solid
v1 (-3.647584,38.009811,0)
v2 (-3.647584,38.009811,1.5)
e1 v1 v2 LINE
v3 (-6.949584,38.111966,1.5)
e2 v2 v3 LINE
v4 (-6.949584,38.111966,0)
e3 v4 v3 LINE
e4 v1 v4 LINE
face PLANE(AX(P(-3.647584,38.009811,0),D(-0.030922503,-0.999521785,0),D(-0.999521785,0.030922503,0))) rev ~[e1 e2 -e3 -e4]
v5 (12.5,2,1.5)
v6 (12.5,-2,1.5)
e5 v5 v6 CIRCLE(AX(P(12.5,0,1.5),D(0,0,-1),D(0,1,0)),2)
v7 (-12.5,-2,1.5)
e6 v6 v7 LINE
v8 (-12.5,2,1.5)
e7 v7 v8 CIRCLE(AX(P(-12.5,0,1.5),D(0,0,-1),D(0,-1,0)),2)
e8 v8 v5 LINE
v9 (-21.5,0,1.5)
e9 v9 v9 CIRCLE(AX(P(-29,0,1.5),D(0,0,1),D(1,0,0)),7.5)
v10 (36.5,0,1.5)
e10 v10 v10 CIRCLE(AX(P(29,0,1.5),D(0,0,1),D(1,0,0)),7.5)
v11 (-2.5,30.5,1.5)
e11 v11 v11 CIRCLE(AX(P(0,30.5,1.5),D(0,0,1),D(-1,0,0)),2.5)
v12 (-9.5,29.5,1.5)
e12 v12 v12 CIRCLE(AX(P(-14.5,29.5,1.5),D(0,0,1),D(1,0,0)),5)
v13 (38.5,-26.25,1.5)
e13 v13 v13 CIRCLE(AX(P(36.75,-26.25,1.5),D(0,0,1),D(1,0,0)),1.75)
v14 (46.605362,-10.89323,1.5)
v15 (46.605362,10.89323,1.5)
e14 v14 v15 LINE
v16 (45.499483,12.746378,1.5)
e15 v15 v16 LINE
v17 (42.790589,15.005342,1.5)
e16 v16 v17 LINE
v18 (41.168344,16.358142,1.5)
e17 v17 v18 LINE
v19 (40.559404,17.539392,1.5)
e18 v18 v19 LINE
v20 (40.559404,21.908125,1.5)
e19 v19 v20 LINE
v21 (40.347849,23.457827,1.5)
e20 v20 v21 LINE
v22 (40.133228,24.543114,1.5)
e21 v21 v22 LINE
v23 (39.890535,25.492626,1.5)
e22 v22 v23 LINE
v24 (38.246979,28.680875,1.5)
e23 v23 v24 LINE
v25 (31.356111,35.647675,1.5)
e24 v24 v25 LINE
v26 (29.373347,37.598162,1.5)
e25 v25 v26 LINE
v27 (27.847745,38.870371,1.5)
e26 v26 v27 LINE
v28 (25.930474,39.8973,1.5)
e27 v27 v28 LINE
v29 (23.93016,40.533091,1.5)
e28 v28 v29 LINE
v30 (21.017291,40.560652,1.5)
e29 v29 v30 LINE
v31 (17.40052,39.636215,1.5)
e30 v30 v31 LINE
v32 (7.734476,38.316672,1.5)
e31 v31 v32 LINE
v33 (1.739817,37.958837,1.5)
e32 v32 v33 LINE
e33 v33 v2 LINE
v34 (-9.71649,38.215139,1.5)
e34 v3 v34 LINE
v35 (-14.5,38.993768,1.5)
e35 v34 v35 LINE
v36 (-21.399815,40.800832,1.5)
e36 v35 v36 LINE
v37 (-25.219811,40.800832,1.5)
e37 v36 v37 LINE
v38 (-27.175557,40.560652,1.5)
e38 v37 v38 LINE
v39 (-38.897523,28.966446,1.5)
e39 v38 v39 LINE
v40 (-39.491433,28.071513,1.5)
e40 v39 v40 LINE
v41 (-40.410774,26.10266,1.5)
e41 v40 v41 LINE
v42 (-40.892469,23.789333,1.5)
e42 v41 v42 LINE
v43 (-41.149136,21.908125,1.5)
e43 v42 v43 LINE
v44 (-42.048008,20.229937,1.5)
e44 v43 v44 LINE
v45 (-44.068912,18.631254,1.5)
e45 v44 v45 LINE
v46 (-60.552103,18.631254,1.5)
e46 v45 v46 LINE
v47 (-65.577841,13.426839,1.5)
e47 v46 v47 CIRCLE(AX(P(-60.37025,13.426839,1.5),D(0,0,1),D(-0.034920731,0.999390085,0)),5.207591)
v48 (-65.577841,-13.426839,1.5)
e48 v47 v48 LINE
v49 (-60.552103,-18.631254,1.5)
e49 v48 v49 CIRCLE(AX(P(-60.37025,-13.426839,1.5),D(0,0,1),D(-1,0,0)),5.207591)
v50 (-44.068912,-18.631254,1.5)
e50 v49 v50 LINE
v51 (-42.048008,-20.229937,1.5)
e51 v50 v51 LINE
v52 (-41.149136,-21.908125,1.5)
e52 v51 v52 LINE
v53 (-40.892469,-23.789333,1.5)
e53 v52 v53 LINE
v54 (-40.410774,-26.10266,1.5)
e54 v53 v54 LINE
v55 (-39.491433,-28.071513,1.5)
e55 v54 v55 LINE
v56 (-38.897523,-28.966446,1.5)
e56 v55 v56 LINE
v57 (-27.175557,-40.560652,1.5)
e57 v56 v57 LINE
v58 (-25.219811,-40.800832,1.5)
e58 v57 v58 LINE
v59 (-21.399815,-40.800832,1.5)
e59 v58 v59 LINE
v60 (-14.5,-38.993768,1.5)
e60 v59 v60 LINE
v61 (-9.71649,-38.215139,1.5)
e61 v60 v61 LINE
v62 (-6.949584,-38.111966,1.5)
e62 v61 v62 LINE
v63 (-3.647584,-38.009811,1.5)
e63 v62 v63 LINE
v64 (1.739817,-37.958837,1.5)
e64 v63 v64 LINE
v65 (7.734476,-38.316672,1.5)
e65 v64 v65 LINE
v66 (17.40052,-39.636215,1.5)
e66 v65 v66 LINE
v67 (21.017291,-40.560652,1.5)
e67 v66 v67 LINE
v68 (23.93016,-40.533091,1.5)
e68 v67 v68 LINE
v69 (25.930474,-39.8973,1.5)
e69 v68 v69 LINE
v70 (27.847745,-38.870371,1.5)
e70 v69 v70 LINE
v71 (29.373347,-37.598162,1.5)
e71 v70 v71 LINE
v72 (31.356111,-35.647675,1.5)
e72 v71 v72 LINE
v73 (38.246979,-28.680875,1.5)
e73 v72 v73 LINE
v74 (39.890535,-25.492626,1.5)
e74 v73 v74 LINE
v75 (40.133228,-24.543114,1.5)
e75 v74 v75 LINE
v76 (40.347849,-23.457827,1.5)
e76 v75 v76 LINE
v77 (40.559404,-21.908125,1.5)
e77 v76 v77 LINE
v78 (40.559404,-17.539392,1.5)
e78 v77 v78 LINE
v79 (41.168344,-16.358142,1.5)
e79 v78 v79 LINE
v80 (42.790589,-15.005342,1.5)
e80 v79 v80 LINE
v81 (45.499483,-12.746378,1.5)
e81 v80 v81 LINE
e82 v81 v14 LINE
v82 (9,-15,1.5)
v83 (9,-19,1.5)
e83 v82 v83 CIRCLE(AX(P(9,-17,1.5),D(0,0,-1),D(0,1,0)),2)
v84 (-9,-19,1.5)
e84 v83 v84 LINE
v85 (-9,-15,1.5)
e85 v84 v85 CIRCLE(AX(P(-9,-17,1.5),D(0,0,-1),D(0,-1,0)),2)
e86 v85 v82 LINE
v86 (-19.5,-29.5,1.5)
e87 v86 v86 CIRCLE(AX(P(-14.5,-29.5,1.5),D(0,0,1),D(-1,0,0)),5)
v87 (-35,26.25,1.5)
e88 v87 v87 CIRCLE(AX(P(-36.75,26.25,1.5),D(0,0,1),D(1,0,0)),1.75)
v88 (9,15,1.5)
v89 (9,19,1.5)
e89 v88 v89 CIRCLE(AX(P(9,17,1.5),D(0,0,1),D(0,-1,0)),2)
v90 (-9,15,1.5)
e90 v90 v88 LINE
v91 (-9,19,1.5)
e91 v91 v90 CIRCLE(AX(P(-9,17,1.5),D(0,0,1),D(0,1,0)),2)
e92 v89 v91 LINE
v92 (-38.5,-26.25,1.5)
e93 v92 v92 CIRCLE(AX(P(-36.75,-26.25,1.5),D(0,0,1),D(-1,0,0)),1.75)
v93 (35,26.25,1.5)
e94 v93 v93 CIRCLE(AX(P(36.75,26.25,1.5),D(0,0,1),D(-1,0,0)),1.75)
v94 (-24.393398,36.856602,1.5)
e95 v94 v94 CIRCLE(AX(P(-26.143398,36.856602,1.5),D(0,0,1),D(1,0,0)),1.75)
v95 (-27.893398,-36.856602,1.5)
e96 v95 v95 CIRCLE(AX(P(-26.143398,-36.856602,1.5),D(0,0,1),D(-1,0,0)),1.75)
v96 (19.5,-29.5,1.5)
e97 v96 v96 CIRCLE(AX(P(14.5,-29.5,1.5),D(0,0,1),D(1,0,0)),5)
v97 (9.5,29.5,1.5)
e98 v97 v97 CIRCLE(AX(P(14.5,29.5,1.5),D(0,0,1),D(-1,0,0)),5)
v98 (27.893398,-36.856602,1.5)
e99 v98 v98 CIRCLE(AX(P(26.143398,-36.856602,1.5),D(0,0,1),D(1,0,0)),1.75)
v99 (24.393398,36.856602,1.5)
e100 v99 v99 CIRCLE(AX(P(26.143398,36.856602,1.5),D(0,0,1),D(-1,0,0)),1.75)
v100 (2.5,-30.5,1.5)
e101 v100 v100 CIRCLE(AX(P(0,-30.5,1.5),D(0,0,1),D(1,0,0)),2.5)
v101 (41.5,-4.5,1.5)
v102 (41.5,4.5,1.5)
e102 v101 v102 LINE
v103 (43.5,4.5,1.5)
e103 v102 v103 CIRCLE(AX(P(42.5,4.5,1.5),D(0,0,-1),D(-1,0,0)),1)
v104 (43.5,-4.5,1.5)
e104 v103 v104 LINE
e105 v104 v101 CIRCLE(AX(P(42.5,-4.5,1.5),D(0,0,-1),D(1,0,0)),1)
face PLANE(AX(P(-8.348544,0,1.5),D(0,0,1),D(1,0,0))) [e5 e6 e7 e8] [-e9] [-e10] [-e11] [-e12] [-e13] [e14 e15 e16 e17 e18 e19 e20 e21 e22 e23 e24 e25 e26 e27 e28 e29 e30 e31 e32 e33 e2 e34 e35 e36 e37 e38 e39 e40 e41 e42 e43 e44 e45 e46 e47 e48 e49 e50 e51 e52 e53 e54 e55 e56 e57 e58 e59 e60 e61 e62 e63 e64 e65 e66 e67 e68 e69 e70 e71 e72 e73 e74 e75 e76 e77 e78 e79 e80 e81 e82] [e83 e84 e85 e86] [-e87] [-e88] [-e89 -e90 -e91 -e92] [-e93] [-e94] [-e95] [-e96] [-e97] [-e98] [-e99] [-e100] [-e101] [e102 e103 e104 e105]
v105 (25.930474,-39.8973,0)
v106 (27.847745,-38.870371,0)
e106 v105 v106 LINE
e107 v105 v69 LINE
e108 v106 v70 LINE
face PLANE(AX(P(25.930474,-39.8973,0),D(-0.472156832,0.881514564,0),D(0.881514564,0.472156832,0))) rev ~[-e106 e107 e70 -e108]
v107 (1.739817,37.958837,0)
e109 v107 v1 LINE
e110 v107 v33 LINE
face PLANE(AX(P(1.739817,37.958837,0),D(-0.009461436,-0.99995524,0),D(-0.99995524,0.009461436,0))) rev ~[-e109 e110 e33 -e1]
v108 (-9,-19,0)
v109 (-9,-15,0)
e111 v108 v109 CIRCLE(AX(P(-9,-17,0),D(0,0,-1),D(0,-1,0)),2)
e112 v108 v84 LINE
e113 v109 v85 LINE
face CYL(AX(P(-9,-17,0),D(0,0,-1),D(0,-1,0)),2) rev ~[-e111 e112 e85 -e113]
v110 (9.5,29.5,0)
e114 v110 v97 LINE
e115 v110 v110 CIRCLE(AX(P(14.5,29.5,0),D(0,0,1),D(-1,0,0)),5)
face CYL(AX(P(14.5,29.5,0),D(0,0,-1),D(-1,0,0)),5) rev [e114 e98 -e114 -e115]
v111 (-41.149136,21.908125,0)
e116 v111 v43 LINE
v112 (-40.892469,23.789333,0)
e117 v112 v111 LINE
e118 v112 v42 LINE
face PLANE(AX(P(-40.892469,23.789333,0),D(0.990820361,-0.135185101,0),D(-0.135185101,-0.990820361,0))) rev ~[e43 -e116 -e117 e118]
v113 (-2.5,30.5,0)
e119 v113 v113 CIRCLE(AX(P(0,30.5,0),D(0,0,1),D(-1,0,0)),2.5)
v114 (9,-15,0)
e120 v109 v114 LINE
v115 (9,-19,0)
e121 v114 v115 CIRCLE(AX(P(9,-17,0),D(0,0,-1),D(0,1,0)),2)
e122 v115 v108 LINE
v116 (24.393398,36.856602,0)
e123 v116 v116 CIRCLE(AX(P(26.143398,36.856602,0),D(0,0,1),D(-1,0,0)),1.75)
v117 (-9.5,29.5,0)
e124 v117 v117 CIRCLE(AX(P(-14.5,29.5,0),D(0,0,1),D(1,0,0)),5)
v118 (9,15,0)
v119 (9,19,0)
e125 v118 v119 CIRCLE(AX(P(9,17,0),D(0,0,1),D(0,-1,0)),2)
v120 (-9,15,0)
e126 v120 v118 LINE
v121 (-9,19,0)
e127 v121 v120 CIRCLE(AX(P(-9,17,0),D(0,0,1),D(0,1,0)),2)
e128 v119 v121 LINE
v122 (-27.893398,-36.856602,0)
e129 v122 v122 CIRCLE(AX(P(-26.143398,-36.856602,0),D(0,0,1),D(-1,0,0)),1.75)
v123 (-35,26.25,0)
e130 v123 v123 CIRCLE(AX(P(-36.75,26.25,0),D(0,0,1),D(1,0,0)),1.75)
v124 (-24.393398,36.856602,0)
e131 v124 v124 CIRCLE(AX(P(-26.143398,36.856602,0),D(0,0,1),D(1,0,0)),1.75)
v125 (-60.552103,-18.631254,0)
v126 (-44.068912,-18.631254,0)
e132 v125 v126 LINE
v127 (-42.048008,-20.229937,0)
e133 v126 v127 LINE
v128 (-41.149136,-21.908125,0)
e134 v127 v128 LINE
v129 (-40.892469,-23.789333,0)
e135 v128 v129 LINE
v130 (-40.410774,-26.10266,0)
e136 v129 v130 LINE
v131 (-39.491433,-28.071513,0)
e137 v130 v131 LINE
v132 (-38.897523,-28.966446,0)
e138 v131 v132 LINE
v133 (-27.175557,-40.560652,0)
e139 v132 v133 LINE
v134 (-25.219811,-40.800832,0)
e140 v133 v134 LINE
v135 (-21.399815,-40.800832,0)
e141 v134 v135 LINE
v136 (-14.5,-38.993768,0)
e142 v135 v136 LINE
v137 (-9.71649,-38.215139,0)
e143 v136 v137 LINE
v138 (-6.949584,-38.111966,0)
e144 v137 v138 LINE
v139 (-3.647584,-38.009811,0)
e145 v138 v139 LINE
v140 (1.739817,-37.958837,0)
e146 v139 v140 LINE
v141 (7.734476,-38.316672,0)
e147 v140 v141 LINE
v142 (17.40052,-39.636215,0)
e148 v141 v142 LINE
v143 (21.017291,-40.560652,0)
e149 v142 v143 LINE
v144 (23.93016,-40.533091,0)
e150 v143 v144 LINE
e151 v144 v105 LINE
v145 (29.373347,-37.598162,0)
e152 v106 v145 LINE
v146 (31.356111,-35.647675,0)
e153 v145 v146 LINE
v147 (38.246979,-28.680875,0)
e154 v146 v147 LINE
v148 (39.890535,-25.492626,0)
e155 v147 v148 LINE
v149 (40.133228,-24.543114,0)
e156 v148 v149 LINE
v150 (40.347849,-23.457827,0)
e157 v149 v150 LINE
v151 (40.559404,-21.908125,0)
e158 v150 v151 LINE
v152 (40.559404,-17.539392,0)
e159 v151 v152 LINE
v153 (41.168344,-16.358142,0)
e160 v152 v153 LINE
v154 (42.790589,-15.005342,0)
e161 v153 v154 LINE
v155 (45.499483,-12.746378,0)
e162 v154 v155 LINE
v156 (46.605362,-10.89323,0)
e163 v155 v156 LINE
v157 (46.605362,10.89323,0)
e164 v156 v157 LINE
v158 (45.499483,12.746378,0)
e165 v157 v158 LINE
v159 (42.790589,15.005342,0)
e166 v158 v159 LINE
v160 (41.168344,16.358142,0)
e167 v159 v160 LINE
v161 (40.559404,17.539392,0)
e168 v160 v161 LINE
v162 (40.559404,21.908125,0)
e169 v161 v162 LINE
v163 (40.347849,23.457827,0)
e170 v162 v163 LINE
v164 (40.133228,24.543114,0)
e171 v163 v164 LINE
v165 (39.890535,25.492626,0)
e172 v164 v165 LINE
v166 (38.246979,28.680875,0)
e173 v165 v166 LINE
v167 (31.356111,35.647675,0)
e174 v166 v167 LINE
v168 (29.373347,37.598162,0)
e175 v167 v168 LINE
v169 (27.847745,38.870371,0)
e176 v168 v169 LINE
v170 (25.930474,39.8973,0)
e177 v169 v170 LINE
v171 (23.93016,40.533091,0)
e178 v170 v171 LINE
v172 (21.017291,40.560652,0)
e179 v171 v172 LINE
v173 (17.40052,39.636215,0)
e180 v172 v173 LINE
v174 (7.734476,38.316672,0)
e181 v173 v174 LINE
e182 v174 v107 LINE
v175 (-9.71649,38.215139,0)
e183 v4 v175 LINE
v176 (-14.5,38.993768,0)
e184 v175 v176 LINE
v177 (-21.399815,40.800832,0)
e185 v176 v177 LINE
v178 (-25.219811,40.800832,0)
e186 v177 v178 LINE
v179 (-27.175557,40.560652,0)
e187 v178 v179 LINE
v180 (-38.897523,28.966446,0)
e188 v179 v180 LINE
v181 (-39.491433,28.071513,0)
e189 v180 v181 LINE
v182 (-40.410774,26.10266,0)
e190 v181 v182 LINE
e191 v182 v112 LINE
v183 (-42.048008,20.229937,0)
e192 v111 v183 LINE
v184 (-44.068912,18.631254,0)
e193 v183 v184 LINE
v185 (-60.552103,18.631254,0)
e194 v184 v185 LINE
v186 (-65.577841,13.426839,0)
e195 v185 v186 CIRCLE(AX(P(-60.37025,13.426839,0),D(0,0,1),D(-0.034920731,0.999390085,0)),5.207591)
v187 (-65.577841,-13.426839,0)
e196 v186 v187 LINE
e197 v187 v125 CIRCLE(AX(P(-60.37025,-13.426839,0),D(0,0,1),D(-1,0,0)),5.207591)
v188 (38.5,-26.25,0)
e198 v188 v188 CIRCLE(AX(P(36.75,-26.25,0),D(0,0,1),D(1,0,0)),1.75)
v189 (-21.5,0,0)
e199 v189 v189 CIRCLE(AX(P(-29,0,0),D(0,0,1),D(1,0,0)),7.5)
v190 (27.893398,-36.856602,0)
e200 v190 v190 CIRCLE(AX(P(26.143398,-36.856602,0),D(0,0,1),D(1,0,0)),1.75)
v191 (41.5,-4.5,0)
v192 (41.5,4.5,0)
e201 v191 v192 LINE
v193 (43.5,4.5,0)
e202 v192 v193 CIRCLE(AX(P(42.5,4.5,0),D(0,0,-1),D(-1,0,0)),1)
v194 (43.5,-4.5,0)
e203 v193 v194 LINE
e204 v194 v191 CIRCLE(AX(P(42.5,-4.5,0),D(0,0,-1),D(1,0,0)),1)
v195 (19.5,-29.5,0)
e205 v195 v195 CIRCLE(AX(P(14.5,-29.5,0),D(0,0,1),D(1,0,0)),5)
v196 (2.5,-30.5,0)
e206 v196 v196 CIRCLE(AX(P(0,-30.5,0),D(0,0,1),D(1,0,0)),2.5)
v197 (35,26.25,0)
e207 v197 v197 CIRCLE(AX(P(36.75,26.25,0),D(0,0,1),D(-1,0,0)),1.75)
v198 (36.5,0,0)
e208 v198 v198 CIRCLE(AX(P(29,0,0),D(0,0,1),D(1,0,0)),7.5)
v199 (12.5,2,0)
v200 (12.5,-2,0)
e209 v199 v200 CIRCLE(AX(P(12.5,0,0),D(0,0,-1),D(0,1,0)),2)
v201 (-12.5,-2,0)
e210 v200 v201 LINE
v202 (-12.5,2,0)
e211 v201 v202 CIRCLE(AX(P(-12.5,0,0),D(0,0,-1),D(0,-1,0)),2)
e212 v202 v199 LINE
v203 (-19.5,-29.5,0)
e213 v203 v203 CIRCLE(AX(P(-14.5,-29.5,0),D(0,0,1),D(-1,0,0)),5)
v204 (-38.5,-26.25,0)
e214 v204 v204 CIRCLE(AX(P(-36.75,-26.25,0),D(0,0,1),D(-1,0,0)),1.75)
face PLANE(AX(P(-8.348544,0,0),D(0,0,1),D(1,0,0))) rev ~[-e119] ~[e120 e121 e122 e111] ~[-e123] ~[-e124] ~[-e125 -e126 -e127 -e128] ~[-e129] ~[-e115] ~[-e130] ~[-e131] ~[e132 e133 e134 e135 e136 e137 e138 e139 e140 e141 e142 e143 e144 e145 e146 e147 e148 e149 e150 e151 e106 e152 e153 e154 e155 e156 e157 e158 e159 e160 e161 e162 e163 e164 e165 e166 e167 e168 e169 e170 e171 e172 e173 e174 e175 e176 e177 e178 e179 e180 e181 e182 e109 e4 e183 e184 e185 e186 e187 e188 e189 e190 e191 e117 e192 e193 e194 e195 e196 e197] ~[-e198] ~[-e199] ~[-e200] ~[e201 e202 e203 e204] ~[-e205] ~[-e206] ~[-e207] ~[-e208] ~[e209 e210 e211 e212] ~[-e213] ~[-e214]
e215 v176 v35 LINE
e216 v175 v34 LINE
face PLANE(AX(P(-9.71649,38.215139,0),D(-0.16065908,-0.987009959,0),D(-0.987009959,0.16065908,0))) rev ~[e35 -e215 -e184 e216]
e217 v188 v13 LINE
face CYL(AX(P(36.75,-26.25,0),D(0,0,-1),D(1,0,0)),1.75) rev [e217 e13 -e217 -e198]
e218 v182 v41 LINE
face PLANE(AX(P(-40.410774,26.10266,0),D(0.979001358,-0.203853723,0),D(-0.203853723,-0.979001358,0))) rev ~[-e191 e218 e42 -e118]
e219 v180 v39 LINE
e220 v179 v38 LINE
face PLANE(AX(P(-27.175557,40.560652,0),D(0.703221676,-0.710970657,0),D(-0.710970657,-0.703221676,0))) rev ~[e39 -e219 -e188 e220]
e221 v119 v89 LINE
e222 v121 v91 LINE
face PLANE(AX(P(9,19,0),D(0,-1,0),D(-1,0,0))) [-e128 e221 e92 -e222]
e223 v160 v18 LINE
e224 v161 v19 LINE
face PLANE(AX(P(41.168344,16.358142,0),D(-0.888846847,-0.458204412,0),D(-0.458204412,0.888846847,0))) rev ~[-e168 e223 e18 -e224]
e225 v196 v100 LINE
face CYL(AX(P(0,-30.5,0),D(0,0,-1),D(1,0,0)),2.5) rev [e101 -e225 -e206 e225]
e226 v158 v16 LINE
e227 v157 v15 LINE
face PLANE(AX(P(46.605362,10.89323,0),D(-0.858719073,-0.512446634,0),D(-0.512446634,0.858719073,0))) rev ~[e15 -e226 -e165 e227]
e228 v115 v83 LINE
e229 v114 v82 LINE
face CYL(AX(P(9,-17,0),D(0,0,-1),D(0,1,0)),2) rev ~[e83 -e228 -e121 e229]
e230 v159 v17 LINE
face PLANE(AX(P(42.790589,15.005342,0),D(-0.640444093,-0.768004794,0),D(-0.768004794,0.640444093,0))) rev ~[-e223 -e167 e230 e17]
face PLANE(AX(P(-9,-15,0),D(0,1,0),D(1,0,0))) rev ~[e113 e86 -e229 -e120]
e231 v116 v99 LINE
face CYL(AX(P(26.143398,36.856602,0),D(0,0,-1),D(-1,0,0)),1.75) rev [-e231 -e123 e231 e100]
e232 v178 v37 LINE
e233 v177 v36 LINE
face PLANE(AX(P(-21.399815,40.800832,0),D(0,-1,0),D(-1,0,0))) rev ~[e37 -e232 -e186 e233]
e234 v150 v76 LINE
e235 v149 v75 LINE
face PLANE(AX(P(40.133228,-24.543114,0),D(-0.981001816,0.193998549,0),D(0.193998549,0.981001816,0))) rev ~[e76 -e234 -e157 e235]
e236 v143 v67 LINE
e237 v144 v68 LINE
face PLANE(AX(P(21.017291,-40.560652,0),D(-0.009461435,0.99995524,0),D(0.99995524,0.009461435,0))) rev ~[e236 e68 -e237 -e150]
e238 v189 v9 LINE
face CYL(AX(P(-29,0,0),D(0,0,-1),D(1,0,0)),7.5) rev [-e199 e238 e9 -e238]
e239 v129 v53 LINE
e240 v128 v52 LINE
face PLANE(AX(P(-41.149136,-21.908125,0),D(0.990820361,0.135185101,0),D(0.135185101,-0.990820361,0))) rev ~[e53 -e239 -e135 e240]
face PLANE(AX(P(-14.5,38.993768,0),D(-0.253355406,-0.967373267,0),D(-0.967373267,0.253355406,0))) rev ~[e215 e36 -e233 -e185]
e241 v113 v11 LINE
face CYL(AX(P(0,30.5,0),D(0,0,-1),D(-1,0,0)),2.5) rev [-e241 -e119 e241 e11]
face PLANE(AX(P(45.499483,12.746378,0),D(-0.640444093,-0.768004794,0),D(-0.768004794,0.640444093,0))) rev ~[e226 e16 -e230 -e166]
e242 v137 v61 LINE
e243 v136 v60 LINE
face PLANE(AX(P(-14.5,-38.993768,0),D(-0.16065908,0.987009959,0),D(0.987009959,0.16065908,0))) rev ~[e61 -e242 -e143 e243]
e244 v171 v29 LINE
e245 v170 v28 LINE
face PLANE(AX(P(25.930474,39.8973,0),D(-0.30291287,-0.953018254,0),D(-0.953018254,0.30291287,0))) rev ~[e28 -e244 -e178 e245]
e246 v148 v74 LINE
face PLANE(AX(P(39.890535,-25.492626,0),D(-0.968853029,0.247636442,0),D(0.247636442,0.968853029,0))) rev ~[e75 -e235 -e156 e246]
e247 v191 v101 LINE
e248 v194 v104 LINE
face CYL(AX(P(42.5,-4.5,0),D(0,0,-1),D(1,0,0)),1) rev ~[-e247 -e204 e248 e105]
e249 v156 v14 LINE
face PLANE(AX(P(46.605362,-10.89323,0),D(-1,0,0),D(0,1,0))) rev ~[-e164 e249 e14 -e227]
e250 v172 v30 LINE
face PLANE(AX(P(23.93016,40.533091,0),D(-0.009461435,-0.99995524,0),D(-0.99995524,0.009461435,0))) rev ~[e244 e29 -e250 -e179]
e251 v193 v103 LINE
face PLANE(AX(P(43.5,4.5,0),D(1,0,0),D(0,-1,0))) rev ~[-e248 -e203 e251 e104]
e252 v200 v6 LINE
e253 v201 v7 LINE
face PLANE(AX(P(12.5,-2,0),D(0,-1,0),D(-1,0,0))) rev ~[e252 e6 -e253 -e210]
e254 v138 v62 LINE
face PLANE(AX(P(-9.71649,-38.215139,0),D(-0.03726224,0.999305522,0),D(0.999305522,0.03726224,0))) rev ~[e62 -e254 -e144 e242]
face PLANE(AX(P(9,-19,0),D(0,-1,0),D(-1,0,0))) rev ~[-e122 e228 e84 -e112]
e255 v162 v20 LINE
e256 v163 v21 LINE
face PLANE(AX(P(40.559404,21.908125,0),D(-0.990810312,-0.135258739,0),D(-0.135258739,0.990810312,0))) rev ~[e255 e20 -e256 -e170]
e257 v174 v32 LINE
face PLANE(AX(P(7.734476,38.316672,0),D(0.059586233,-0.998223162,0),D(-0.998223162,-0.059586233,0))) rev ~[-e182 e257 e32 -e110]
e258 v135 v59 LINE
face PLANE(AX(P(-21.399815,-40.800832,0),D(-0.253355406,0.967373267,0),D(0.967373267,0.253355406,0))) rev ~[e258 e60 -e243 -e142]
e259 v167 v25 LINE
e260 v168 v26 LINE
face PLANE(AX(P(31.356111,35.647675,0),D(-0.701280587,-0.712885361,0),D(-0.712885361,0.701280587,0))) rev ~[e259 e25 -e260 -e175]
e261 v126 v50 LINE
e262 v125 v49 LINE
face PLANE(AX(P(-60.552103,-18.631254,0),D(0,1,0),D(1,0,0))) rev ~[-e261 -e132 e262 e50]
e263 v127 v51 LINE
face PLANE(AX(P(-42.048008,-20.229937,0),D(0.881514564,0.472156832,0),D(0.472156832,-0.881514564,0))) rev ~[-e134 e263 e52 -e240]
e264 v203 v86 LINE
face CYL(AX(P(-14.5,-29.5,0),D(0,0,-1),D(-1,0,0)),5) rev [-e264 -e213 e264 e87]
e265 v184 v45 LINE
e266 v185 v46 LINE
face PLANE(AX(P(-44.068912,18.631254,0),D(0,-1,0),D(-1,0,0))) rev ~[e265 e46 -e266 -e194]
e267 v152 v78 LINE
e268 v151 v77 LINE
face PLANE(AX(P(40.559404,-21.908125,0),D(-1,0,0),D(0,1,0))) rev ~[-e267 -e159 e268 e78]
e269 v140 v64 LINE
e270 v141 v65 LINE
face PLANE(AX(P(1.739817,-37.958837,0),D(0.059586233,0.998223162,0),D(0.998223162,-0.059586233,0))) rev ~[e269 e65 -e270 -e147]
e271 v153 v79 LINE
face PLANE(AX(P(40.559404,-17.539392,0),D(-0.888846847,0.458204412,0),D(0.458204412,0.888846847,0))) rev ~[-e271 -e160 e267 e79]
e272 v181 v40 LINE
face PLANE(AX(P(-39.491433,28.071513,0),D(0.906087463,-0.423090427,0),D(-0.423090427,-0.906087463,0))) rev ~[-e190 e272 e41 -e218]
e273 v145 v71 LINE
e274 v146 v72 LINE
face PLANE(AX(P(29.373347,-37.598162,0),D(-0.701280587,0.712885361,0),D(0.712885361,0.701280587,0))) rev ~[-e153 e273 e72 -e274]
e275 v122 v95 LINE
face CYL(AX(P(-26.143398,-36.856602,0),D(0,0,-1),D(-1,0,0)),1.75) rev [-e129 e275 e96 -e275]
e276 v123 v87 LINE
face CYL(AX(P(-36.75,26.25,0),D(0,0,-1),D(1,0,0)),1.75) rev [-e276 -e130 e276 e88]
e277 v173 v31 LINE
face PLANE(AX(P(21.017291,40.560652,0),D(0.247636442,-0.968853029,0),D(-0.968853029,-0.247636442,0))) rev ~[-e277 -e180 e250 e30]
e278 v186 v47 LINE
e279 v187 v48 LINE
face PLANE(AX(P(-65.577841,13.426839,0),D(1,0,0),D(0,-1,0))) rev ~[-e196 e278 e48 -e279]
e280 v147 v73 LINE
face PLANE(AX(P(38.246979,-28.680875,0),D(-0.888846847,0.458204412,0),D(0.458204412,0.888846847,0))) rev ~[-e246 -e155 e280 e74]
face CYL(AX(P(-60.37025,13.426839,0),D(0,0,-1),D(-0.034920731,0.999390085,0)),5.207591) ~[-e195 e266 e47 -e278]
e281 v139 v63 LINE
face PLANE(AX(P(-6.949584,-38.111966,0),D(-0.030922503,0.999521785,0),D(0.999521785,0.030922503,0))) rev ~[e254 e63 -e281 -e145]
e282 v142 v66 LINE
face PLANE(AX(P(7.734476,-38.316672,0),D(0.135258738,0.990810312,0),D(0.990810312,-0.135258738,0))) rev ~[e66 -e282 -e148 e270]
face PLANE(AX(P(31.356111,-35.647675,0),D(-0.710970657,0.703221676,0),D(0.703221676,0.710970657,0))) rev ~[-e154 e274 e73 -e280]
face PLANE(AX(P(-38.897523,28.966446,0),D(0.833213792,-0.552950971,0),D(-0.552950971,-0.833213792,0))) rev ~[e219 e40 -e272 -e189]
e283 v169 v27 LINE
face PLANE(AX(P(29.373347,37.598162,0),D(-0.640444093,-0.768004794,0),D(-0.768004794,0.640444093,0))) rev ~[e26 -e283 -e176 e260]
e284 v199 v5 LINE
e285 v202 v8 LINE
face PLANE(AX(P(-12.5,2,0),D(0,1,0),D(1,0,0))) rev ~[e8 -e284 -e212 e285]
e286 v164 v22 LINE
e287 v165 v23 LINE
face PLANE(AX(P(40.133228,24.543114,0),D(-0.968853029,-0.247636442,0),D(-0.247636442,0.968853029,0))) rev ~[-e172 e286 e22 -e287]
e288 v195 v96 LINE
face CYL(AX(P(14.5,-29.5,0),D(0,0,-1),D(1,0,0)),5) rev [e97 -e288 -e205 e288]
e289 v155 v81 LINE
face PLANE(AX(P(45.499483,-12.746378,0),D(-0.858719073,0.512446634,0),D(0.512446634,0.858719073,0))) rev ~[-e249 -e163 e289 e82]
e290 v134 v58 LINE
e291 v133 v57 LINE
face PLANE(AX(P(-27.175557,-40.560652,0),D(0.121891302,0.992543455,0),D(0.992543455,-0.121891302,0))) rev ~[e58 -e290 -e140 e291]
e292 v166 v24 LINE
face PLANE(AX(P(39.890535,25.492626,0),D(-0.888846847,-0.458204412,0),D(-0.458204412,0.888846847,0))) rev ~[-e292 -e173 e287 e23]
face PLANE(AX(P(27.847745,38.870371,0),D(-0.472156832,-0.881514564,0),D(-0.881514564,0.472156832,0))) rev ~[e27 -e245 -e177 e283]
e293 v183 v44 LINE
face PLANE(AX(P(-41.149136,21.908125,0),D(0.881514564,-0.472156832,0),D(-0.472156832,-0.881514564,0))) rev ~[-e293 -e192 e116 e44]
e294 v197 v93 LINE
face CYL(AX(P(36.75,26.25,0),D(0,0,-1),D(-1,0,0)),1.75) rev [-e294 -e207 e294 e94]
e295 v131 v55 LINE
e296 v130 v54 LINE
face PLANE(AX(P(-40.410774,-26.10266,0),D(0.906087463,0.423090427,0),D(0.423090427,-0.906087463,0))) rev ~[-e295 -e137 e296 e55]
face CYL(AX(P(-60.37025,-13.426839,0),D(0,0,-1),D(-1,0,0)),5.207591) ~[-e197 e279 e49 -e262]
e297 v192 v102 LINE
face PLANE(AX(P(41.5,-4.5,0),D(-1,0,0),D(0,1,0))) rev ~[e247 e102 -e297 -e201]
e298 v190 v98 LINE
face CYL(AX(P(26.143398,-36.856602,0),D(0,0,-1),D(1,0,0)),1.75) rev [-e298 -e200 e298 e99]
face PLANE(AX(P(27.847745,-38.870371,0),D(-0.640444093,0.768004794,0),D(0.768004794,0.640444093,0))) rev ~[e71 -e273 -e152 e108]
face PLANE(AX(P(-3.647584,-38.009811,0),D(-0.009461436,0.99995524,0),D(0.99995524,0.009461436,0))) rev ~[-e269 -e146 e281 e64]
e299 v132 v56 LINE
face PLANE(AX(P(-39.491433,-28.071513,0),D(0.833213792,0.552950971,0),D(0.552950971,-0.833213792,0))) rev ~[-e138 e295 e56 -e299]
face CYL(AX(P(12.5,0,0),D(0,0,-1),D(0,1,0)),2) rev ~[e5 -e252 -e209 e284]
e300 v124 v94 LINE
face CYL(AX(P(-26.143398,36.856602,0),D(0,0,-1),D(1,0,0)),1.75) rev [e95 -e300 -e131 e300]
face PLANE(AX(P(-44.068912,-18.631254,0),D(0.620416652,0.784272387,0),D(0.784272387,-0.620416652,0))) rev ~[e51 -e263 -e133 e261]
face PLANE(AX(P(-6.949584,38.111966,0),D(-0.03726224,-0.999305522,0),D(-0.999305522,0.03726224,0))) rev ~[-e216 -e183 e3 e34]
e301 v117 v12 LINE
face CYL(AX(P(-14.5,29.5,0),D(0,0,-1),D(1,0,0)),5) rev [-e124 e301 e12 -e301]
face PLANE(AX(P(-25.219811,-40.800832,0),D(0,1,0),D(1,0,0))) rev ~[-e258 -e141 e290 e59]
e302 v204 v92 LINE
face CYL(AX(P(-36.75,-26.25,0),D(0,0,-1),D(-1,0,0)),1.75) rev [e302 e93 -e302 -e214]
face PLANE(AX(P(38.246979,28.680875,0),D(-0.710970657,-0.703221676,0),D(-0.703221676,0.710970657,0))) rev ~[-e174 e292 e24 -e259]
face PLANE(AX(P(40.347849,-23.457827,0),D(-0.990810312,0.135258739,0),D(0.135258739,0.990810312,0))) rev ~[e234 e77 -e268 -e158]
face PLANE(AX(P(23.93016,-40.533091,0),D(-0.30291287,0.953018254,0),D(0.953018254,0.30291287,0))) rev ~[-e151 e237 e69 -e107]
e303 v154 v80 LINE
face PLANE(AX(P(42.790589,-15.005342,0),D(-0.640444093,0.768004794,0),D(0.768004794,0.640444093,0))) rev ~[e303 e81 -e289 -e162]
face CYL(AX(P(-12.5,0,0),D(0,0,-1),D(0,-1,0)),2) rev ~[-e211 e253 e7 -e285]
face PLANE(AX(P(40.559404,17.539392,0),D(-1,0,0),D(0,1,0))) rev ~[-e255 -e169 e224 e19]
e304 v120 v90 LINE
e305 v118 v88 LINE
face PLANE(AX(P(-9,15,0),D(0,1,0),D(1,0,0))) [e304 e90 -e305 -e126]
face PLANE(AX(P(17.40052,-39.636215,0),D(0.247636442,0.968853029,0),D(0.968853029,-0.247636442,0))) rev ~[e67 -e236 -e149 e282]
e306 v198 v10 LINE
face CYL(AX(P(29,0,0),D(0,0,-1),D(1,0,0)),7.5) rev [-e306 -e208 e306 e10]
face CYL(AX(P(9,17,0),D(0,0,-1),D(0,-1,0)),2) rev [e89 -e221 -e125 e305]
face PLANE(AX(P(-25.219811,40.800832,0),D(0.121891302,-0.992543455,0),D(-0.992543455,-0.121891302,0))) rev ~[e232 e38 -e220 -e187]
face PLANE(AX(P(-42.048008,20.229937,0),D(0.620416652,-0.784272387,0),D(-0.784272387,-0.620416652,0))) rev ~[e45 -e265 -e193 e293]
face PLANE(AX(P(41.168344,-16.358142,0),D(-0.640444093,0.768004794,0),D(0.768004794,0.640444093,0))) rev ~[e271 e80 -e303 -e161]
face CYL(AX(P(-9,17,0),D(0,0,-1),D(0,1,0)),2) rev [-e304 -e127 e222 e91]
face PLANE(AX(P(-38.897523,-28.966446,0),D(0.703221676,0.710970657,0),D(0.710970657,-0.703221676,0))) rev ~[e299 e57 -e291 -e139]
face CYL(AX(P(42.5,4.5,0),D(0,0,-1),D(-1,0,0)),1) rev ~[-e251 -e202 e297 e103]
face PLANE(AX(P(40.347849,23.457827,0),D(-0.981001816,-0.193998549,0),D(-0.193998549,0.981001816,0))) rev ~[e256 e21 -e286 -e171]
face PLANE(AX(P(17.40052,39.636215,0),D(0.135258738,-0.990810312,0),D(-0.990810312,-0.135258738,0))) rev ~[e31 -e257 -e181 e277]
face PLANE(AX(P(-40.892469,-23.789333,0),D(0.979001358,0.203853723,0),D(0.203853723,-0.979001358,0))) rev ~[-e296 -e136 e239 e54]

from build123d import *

# Parameters (mm, degrees)
DOWN_BOARD_R    = 7.5
DOWN_BOARD_R_2  = 5
DOWN_BOARD_R_3  = 1.75
DOWN_BOARD_R_4  = 2.5
EXTRUDE_1_DEPTH = 1.5


with BuildPart() as part:
    # down_board → 凸台-拉伸1 (new body)
    with BuildSketch(Plane.XY):
        with BuildLine():
            Line((-65.577840697, 13.426839479), (-65.577840697, -13.426839479))
            ThreePointArc((-65.577840697, -13.426839479), (-64.116315672, -17.044296176), (-60.552102836, -18.631254027))
            Line((-60.552102836, -18.631254027), (-44.068912387, -18.631254027))
            Line((-44.068912387, -18.631254027), (-42.048007576, -20.229937109))
            Line((-42.048007576, -20.229937109), (-41.149136438, -21.908125258))
            Line((-41.149136438, -21.908125258), (-40.892469041, -23.789333182))
            Line((-40.892469041, -23.789333182), (-40.410773876, -26.102659685))
            Line((-40.410773876, -26.102659685), (-39.491433455, -28.071512622))
            Line((-39.491433455, -28.071512622), (-38.897523272, -28.966445774))
            Line((-38.897523272, -28.966445774), (-27.175557076, -40.560652421))
            Line((-27.175557076, -40.560652421), (-25.219810652, -40.800831807))
            Line((-25.219810652, -40.800831807), (-21.399814714, -40.800831807))
            Line((-21.399814714, -40.800831807), (-14.5, -38.99376786))
            Line((-14.5, -38.99376786), (-9.716490487, -38.215139203))
            Line((-9.716490487, -38.215139203), (-6.949583513, -38.111966401))
            Line((-6.949583513, -38.111966401), (-3.647583538, -38.009811446))
            Line((-3.647583538, -38.009811446), (1.739816686, -37.958836623))
            Line((1.739816686, -37.958836623), (7.734475924, -38.316671597))
            Line((7.734475924, -38.316671597), (17.40052023, -39.636214745))
            Line((17.40052023, -39.636214745), (21.017290997, -40.560652421))
            Line((21.017290997, -40.560652421), (23.930160234, -40.533091263))
            Line((23.930160234, -40.533091263), (25.930474181, -39.897299833))
            Line((25.930474181, -39.897299833), (27.847745393, -38.870371024))
            Line((27.847745393, -38.870371024), (29.373346844, -37.598162249))
            Line((29.373346844, -37.598162249), (31.356110551, -35.647675154))
            Line((31.356110551, -35.647675154), (38.246978904, -28.680874548))
            Line((38.246978904, -28.680874548), (39.890534987, -25.492625804))
            Line((39.890534987, -25.492625804), (40.133227927, -24.543113735))
            Line((40.133227927, -24.543113735), (40.347849385, -23.457827058))
            Line((40.347849385, -23.457827058), (40.559404219, -21.908125258))
            Line((40.559404219, -21.908125258), (40.559404219, -17.539392155))
            Line((40.559404219, -17.539392155), (41.168343616, -16.358142371))
            Line((41.168343616, -16.358142371), (42.790589116, -15.005341507))
            Line((42.790589116, -15.005341507), (45.499482621, -12.746377945))
            Line((45.499482621, -12.746377945), (46.605361545, -10.8932302))
            Line((46.605361545, -10.8932302), (46.605361545, 10.8932302))
            Line((46.605361545, 10.8932302), (45.499482621, 12.746377945))
            Line((45.499482621, 12.746377945), (42.790589116, 15.005341507))
            Line((42.790589116, 15.005341507), (41.168343616, 16.358142371))
            Line((41.168343616, 16.358142371), (40.559404219, 17.539392155))
            Line((40.559404219, 17.539392155), (40.559404219, 21.908125258))
            Line((40.559404219, 21.908125258), (40.347849385, 23.457827058))
            Line((40.347849385, 23.457827058), (40.133227927, 24.543113735))
            Line((40.133227927, 24.543113735), (39.890534987, 25.492625804))
            Line((39.890534987, 25.492625804), (38.246978904, 28.680874548))
            Line((38.246978904, 28.680874548), (31.356110551, 35.647675154))
            Line((31.356110551, 35.647675154), (29.373346844, 37.598162249))
            Line((29.373346844, 37.598162249), (27.847745393, 38.870371024))
            Line((27.847745393, 38.870371024), (25.930474181, 39.897299833))
            Line((25.930474181, 39.897299833), (23.930160234, 40.533091263))
            Line((23.930160234, 40.533091263), (21.017290997, 40.560652421))
            Line((21.017290997, 40.560652421), (17.40052023, 39.636214745))
            Line((17.40052023, 39.636214745), (7.734475924, 38.316671597))
            Line((7.734475924, 38.316671597), (1.739816686, 37.958836623))
            Line((1.739816686, 37.958836623), (-3.647583538, 38.009811446))
            Line((-3.647583538, 38.009811446), (-6.949583513, 38.111966401))
            Line((-6.949583513, 38.111966401), (-9.716490487, 38.215139203))
            Line((-9.716490487, 38.215139203), (-14.5, 38.99376786))
            Line((-14.5, 38.99376786), (-21.399814714, 40.800831807))
            Line((-21.399814714, 40.800831807), (-25.219810652, 40.800831807))
            Line((-25.219810652, 40.800831807), (-27.175557076, 40.560652421))
            Line((-27.175557076, 40.560652421), (-38.897523272, 28.966445774))
            Line((-38.897523272, 28.966445774), (-39.491433455, 28.071512622))
            Line((-39.491433455, 28.071512622), (-40.410773876, 26.102659685))
            Line((-40.410773876, 26.102659685), (-40.892469041, 23.789333182))
            Line((-40.892469041, 23.789333182), (-41.149136438, 21.908125258))
            Line((-41.149136438, 21.908125258), (-42.048007576, 20.229937109))
            Line((-42.048007576, 20.229937109), (-44.068912387, 18.631254027))
            Line((-44.068912387, 18.631254027), (-60.552102836, 18.631254027))
            ThreePointArc((-60.552102836, 18.631254027), (-64.116315672, 17.044296176), (-65.577840697, 13.426839479))
        make_face()
        with Locations((-29, 0)):
            Circle(DOWN_BOARD_R, mode=Mode.SUBTRACT)
        with Locations((29, 0)):
            Circle(DOWN_BOARD_R, mode=Mode.SUBTRACT)
        with Locations((-14.5, 29.5)):
            Circle(DOWN_BOARD_R_2, mode=Mode.SUBTRACT)
        with Locations(Location((14.5, 29.5, 0), (0, 0, 180))):
            Circle(DOWN_BOARD_R_2, mode=Mode.SUBTRACT)
        with Locations((14.5, -29.5)):
            Circle(DOWN_BOARD_R_2, mode=Mode.SUBTRACT)
        with Locations(Location((-14.5, -29.5, 0), (0, 0, 180))):
            Circle(DOWN_BOARD_R_2, mode=Mode.SUBTRACT)
        with Locations((-36.75, 26.25)):
            Circle(DOWN_BOARD_R_3, mode=Mode.SUBTRACT)
        with Locations((-26.143398282, 36.856601718)):
            Circle(DOWN_BOARD_R_3, mode=Mode.SUBTRACT)
        with Locations(Location((36.75, 26.25, 0), (0, 0, 180))):
            Circle(DOWN_BOARD_R_3, mode=Mode.SUBTRACT)
        with Locations(Location((26.143398282, 36.856601718, 0), (0, 0, 180))):
            Circle(DOWN_BOARD_R_3, mode=Mode.SUBTRACT)
        with Locations((36.75, -26.25)):
            Circle(DOWN_BOARD_R_3, mode=Mode.SUBTRACT)
        with Locations((26.143398282, -36.856601718)):
            Circle(DOWN_BOARD_R_3, mode=Mode.SUBTRACT)
        with Locations(Location((-36.75, -26.25, 0), (0, 0, 180))):
            Circle(DOWN_BOARD_R_3, mode=Mode.SUBTRACT)
        with Locations(Location((-26.143398282, -36.856601718, 0), (0, 0, 180))):
            Circle(DOWN_BOARD_R_3, mode=Mode.SUBTRACT)
        with Locations((0, -30.5)):
            Circle(DOWN_BOARD_R_4, mode=Mode.SUBTRACT)
        with Locations(Location((0, 30.5, 0), (0, 0, 180))):
            Circle(DOWN_BOARD_R_4, mode=Mode.SUBTRACT)
        with BuildLine():
            Line((-9, -15), (9, -15))
            ThreePointArc((9, -15), (11, -17), (9, -19))
            Line((9, -19), (-9, -19))
            ThreePointArc((-9, -19), (-11, -17), (-9, -15))
        make_face(mode=Mode.SUBTRACT)
        with BuildLine():
            Line((-12.5, 2), (12.5, 2))
            ThreePointArc((12.5, 2), (14.5, 0), (12.5, -2))
            Line((12.5, -2), (-12.5, -2))
            ThreePointArc((-12.5, -2), (-14.5, 0), (-12.5, 2))
        make_face(mode=Mode.SUBTRACT)
        with BuildLine():
            Line((-9, 15), (9, 15))
            ThreePointArc((9, 15), (11, 17), (9, 19))
            Line((9, 19), (-9, 19))
            ThreePointArc((-9, 19), (-11, 17), (-9, 15))
        make_face(mode=Mode.SUBTRACT)
        with BuildLine():
            Line((41.5, -4.5), (41.5, 4.5))
            ThreePointArc((41.5, 4.5), (42.5, 5.5), (43.5, 4.5))
            Line((43.5, 4.5), (43.5, -4.5))
            ThreePointArc((43.5, -4.5), (42.5, -5.5), (41.5, -4.5))
        make_face(mode=Mode.SUBTRACT)
    extrude(amount=EXTRUDE_1_DEPTH)


solid = part.part
